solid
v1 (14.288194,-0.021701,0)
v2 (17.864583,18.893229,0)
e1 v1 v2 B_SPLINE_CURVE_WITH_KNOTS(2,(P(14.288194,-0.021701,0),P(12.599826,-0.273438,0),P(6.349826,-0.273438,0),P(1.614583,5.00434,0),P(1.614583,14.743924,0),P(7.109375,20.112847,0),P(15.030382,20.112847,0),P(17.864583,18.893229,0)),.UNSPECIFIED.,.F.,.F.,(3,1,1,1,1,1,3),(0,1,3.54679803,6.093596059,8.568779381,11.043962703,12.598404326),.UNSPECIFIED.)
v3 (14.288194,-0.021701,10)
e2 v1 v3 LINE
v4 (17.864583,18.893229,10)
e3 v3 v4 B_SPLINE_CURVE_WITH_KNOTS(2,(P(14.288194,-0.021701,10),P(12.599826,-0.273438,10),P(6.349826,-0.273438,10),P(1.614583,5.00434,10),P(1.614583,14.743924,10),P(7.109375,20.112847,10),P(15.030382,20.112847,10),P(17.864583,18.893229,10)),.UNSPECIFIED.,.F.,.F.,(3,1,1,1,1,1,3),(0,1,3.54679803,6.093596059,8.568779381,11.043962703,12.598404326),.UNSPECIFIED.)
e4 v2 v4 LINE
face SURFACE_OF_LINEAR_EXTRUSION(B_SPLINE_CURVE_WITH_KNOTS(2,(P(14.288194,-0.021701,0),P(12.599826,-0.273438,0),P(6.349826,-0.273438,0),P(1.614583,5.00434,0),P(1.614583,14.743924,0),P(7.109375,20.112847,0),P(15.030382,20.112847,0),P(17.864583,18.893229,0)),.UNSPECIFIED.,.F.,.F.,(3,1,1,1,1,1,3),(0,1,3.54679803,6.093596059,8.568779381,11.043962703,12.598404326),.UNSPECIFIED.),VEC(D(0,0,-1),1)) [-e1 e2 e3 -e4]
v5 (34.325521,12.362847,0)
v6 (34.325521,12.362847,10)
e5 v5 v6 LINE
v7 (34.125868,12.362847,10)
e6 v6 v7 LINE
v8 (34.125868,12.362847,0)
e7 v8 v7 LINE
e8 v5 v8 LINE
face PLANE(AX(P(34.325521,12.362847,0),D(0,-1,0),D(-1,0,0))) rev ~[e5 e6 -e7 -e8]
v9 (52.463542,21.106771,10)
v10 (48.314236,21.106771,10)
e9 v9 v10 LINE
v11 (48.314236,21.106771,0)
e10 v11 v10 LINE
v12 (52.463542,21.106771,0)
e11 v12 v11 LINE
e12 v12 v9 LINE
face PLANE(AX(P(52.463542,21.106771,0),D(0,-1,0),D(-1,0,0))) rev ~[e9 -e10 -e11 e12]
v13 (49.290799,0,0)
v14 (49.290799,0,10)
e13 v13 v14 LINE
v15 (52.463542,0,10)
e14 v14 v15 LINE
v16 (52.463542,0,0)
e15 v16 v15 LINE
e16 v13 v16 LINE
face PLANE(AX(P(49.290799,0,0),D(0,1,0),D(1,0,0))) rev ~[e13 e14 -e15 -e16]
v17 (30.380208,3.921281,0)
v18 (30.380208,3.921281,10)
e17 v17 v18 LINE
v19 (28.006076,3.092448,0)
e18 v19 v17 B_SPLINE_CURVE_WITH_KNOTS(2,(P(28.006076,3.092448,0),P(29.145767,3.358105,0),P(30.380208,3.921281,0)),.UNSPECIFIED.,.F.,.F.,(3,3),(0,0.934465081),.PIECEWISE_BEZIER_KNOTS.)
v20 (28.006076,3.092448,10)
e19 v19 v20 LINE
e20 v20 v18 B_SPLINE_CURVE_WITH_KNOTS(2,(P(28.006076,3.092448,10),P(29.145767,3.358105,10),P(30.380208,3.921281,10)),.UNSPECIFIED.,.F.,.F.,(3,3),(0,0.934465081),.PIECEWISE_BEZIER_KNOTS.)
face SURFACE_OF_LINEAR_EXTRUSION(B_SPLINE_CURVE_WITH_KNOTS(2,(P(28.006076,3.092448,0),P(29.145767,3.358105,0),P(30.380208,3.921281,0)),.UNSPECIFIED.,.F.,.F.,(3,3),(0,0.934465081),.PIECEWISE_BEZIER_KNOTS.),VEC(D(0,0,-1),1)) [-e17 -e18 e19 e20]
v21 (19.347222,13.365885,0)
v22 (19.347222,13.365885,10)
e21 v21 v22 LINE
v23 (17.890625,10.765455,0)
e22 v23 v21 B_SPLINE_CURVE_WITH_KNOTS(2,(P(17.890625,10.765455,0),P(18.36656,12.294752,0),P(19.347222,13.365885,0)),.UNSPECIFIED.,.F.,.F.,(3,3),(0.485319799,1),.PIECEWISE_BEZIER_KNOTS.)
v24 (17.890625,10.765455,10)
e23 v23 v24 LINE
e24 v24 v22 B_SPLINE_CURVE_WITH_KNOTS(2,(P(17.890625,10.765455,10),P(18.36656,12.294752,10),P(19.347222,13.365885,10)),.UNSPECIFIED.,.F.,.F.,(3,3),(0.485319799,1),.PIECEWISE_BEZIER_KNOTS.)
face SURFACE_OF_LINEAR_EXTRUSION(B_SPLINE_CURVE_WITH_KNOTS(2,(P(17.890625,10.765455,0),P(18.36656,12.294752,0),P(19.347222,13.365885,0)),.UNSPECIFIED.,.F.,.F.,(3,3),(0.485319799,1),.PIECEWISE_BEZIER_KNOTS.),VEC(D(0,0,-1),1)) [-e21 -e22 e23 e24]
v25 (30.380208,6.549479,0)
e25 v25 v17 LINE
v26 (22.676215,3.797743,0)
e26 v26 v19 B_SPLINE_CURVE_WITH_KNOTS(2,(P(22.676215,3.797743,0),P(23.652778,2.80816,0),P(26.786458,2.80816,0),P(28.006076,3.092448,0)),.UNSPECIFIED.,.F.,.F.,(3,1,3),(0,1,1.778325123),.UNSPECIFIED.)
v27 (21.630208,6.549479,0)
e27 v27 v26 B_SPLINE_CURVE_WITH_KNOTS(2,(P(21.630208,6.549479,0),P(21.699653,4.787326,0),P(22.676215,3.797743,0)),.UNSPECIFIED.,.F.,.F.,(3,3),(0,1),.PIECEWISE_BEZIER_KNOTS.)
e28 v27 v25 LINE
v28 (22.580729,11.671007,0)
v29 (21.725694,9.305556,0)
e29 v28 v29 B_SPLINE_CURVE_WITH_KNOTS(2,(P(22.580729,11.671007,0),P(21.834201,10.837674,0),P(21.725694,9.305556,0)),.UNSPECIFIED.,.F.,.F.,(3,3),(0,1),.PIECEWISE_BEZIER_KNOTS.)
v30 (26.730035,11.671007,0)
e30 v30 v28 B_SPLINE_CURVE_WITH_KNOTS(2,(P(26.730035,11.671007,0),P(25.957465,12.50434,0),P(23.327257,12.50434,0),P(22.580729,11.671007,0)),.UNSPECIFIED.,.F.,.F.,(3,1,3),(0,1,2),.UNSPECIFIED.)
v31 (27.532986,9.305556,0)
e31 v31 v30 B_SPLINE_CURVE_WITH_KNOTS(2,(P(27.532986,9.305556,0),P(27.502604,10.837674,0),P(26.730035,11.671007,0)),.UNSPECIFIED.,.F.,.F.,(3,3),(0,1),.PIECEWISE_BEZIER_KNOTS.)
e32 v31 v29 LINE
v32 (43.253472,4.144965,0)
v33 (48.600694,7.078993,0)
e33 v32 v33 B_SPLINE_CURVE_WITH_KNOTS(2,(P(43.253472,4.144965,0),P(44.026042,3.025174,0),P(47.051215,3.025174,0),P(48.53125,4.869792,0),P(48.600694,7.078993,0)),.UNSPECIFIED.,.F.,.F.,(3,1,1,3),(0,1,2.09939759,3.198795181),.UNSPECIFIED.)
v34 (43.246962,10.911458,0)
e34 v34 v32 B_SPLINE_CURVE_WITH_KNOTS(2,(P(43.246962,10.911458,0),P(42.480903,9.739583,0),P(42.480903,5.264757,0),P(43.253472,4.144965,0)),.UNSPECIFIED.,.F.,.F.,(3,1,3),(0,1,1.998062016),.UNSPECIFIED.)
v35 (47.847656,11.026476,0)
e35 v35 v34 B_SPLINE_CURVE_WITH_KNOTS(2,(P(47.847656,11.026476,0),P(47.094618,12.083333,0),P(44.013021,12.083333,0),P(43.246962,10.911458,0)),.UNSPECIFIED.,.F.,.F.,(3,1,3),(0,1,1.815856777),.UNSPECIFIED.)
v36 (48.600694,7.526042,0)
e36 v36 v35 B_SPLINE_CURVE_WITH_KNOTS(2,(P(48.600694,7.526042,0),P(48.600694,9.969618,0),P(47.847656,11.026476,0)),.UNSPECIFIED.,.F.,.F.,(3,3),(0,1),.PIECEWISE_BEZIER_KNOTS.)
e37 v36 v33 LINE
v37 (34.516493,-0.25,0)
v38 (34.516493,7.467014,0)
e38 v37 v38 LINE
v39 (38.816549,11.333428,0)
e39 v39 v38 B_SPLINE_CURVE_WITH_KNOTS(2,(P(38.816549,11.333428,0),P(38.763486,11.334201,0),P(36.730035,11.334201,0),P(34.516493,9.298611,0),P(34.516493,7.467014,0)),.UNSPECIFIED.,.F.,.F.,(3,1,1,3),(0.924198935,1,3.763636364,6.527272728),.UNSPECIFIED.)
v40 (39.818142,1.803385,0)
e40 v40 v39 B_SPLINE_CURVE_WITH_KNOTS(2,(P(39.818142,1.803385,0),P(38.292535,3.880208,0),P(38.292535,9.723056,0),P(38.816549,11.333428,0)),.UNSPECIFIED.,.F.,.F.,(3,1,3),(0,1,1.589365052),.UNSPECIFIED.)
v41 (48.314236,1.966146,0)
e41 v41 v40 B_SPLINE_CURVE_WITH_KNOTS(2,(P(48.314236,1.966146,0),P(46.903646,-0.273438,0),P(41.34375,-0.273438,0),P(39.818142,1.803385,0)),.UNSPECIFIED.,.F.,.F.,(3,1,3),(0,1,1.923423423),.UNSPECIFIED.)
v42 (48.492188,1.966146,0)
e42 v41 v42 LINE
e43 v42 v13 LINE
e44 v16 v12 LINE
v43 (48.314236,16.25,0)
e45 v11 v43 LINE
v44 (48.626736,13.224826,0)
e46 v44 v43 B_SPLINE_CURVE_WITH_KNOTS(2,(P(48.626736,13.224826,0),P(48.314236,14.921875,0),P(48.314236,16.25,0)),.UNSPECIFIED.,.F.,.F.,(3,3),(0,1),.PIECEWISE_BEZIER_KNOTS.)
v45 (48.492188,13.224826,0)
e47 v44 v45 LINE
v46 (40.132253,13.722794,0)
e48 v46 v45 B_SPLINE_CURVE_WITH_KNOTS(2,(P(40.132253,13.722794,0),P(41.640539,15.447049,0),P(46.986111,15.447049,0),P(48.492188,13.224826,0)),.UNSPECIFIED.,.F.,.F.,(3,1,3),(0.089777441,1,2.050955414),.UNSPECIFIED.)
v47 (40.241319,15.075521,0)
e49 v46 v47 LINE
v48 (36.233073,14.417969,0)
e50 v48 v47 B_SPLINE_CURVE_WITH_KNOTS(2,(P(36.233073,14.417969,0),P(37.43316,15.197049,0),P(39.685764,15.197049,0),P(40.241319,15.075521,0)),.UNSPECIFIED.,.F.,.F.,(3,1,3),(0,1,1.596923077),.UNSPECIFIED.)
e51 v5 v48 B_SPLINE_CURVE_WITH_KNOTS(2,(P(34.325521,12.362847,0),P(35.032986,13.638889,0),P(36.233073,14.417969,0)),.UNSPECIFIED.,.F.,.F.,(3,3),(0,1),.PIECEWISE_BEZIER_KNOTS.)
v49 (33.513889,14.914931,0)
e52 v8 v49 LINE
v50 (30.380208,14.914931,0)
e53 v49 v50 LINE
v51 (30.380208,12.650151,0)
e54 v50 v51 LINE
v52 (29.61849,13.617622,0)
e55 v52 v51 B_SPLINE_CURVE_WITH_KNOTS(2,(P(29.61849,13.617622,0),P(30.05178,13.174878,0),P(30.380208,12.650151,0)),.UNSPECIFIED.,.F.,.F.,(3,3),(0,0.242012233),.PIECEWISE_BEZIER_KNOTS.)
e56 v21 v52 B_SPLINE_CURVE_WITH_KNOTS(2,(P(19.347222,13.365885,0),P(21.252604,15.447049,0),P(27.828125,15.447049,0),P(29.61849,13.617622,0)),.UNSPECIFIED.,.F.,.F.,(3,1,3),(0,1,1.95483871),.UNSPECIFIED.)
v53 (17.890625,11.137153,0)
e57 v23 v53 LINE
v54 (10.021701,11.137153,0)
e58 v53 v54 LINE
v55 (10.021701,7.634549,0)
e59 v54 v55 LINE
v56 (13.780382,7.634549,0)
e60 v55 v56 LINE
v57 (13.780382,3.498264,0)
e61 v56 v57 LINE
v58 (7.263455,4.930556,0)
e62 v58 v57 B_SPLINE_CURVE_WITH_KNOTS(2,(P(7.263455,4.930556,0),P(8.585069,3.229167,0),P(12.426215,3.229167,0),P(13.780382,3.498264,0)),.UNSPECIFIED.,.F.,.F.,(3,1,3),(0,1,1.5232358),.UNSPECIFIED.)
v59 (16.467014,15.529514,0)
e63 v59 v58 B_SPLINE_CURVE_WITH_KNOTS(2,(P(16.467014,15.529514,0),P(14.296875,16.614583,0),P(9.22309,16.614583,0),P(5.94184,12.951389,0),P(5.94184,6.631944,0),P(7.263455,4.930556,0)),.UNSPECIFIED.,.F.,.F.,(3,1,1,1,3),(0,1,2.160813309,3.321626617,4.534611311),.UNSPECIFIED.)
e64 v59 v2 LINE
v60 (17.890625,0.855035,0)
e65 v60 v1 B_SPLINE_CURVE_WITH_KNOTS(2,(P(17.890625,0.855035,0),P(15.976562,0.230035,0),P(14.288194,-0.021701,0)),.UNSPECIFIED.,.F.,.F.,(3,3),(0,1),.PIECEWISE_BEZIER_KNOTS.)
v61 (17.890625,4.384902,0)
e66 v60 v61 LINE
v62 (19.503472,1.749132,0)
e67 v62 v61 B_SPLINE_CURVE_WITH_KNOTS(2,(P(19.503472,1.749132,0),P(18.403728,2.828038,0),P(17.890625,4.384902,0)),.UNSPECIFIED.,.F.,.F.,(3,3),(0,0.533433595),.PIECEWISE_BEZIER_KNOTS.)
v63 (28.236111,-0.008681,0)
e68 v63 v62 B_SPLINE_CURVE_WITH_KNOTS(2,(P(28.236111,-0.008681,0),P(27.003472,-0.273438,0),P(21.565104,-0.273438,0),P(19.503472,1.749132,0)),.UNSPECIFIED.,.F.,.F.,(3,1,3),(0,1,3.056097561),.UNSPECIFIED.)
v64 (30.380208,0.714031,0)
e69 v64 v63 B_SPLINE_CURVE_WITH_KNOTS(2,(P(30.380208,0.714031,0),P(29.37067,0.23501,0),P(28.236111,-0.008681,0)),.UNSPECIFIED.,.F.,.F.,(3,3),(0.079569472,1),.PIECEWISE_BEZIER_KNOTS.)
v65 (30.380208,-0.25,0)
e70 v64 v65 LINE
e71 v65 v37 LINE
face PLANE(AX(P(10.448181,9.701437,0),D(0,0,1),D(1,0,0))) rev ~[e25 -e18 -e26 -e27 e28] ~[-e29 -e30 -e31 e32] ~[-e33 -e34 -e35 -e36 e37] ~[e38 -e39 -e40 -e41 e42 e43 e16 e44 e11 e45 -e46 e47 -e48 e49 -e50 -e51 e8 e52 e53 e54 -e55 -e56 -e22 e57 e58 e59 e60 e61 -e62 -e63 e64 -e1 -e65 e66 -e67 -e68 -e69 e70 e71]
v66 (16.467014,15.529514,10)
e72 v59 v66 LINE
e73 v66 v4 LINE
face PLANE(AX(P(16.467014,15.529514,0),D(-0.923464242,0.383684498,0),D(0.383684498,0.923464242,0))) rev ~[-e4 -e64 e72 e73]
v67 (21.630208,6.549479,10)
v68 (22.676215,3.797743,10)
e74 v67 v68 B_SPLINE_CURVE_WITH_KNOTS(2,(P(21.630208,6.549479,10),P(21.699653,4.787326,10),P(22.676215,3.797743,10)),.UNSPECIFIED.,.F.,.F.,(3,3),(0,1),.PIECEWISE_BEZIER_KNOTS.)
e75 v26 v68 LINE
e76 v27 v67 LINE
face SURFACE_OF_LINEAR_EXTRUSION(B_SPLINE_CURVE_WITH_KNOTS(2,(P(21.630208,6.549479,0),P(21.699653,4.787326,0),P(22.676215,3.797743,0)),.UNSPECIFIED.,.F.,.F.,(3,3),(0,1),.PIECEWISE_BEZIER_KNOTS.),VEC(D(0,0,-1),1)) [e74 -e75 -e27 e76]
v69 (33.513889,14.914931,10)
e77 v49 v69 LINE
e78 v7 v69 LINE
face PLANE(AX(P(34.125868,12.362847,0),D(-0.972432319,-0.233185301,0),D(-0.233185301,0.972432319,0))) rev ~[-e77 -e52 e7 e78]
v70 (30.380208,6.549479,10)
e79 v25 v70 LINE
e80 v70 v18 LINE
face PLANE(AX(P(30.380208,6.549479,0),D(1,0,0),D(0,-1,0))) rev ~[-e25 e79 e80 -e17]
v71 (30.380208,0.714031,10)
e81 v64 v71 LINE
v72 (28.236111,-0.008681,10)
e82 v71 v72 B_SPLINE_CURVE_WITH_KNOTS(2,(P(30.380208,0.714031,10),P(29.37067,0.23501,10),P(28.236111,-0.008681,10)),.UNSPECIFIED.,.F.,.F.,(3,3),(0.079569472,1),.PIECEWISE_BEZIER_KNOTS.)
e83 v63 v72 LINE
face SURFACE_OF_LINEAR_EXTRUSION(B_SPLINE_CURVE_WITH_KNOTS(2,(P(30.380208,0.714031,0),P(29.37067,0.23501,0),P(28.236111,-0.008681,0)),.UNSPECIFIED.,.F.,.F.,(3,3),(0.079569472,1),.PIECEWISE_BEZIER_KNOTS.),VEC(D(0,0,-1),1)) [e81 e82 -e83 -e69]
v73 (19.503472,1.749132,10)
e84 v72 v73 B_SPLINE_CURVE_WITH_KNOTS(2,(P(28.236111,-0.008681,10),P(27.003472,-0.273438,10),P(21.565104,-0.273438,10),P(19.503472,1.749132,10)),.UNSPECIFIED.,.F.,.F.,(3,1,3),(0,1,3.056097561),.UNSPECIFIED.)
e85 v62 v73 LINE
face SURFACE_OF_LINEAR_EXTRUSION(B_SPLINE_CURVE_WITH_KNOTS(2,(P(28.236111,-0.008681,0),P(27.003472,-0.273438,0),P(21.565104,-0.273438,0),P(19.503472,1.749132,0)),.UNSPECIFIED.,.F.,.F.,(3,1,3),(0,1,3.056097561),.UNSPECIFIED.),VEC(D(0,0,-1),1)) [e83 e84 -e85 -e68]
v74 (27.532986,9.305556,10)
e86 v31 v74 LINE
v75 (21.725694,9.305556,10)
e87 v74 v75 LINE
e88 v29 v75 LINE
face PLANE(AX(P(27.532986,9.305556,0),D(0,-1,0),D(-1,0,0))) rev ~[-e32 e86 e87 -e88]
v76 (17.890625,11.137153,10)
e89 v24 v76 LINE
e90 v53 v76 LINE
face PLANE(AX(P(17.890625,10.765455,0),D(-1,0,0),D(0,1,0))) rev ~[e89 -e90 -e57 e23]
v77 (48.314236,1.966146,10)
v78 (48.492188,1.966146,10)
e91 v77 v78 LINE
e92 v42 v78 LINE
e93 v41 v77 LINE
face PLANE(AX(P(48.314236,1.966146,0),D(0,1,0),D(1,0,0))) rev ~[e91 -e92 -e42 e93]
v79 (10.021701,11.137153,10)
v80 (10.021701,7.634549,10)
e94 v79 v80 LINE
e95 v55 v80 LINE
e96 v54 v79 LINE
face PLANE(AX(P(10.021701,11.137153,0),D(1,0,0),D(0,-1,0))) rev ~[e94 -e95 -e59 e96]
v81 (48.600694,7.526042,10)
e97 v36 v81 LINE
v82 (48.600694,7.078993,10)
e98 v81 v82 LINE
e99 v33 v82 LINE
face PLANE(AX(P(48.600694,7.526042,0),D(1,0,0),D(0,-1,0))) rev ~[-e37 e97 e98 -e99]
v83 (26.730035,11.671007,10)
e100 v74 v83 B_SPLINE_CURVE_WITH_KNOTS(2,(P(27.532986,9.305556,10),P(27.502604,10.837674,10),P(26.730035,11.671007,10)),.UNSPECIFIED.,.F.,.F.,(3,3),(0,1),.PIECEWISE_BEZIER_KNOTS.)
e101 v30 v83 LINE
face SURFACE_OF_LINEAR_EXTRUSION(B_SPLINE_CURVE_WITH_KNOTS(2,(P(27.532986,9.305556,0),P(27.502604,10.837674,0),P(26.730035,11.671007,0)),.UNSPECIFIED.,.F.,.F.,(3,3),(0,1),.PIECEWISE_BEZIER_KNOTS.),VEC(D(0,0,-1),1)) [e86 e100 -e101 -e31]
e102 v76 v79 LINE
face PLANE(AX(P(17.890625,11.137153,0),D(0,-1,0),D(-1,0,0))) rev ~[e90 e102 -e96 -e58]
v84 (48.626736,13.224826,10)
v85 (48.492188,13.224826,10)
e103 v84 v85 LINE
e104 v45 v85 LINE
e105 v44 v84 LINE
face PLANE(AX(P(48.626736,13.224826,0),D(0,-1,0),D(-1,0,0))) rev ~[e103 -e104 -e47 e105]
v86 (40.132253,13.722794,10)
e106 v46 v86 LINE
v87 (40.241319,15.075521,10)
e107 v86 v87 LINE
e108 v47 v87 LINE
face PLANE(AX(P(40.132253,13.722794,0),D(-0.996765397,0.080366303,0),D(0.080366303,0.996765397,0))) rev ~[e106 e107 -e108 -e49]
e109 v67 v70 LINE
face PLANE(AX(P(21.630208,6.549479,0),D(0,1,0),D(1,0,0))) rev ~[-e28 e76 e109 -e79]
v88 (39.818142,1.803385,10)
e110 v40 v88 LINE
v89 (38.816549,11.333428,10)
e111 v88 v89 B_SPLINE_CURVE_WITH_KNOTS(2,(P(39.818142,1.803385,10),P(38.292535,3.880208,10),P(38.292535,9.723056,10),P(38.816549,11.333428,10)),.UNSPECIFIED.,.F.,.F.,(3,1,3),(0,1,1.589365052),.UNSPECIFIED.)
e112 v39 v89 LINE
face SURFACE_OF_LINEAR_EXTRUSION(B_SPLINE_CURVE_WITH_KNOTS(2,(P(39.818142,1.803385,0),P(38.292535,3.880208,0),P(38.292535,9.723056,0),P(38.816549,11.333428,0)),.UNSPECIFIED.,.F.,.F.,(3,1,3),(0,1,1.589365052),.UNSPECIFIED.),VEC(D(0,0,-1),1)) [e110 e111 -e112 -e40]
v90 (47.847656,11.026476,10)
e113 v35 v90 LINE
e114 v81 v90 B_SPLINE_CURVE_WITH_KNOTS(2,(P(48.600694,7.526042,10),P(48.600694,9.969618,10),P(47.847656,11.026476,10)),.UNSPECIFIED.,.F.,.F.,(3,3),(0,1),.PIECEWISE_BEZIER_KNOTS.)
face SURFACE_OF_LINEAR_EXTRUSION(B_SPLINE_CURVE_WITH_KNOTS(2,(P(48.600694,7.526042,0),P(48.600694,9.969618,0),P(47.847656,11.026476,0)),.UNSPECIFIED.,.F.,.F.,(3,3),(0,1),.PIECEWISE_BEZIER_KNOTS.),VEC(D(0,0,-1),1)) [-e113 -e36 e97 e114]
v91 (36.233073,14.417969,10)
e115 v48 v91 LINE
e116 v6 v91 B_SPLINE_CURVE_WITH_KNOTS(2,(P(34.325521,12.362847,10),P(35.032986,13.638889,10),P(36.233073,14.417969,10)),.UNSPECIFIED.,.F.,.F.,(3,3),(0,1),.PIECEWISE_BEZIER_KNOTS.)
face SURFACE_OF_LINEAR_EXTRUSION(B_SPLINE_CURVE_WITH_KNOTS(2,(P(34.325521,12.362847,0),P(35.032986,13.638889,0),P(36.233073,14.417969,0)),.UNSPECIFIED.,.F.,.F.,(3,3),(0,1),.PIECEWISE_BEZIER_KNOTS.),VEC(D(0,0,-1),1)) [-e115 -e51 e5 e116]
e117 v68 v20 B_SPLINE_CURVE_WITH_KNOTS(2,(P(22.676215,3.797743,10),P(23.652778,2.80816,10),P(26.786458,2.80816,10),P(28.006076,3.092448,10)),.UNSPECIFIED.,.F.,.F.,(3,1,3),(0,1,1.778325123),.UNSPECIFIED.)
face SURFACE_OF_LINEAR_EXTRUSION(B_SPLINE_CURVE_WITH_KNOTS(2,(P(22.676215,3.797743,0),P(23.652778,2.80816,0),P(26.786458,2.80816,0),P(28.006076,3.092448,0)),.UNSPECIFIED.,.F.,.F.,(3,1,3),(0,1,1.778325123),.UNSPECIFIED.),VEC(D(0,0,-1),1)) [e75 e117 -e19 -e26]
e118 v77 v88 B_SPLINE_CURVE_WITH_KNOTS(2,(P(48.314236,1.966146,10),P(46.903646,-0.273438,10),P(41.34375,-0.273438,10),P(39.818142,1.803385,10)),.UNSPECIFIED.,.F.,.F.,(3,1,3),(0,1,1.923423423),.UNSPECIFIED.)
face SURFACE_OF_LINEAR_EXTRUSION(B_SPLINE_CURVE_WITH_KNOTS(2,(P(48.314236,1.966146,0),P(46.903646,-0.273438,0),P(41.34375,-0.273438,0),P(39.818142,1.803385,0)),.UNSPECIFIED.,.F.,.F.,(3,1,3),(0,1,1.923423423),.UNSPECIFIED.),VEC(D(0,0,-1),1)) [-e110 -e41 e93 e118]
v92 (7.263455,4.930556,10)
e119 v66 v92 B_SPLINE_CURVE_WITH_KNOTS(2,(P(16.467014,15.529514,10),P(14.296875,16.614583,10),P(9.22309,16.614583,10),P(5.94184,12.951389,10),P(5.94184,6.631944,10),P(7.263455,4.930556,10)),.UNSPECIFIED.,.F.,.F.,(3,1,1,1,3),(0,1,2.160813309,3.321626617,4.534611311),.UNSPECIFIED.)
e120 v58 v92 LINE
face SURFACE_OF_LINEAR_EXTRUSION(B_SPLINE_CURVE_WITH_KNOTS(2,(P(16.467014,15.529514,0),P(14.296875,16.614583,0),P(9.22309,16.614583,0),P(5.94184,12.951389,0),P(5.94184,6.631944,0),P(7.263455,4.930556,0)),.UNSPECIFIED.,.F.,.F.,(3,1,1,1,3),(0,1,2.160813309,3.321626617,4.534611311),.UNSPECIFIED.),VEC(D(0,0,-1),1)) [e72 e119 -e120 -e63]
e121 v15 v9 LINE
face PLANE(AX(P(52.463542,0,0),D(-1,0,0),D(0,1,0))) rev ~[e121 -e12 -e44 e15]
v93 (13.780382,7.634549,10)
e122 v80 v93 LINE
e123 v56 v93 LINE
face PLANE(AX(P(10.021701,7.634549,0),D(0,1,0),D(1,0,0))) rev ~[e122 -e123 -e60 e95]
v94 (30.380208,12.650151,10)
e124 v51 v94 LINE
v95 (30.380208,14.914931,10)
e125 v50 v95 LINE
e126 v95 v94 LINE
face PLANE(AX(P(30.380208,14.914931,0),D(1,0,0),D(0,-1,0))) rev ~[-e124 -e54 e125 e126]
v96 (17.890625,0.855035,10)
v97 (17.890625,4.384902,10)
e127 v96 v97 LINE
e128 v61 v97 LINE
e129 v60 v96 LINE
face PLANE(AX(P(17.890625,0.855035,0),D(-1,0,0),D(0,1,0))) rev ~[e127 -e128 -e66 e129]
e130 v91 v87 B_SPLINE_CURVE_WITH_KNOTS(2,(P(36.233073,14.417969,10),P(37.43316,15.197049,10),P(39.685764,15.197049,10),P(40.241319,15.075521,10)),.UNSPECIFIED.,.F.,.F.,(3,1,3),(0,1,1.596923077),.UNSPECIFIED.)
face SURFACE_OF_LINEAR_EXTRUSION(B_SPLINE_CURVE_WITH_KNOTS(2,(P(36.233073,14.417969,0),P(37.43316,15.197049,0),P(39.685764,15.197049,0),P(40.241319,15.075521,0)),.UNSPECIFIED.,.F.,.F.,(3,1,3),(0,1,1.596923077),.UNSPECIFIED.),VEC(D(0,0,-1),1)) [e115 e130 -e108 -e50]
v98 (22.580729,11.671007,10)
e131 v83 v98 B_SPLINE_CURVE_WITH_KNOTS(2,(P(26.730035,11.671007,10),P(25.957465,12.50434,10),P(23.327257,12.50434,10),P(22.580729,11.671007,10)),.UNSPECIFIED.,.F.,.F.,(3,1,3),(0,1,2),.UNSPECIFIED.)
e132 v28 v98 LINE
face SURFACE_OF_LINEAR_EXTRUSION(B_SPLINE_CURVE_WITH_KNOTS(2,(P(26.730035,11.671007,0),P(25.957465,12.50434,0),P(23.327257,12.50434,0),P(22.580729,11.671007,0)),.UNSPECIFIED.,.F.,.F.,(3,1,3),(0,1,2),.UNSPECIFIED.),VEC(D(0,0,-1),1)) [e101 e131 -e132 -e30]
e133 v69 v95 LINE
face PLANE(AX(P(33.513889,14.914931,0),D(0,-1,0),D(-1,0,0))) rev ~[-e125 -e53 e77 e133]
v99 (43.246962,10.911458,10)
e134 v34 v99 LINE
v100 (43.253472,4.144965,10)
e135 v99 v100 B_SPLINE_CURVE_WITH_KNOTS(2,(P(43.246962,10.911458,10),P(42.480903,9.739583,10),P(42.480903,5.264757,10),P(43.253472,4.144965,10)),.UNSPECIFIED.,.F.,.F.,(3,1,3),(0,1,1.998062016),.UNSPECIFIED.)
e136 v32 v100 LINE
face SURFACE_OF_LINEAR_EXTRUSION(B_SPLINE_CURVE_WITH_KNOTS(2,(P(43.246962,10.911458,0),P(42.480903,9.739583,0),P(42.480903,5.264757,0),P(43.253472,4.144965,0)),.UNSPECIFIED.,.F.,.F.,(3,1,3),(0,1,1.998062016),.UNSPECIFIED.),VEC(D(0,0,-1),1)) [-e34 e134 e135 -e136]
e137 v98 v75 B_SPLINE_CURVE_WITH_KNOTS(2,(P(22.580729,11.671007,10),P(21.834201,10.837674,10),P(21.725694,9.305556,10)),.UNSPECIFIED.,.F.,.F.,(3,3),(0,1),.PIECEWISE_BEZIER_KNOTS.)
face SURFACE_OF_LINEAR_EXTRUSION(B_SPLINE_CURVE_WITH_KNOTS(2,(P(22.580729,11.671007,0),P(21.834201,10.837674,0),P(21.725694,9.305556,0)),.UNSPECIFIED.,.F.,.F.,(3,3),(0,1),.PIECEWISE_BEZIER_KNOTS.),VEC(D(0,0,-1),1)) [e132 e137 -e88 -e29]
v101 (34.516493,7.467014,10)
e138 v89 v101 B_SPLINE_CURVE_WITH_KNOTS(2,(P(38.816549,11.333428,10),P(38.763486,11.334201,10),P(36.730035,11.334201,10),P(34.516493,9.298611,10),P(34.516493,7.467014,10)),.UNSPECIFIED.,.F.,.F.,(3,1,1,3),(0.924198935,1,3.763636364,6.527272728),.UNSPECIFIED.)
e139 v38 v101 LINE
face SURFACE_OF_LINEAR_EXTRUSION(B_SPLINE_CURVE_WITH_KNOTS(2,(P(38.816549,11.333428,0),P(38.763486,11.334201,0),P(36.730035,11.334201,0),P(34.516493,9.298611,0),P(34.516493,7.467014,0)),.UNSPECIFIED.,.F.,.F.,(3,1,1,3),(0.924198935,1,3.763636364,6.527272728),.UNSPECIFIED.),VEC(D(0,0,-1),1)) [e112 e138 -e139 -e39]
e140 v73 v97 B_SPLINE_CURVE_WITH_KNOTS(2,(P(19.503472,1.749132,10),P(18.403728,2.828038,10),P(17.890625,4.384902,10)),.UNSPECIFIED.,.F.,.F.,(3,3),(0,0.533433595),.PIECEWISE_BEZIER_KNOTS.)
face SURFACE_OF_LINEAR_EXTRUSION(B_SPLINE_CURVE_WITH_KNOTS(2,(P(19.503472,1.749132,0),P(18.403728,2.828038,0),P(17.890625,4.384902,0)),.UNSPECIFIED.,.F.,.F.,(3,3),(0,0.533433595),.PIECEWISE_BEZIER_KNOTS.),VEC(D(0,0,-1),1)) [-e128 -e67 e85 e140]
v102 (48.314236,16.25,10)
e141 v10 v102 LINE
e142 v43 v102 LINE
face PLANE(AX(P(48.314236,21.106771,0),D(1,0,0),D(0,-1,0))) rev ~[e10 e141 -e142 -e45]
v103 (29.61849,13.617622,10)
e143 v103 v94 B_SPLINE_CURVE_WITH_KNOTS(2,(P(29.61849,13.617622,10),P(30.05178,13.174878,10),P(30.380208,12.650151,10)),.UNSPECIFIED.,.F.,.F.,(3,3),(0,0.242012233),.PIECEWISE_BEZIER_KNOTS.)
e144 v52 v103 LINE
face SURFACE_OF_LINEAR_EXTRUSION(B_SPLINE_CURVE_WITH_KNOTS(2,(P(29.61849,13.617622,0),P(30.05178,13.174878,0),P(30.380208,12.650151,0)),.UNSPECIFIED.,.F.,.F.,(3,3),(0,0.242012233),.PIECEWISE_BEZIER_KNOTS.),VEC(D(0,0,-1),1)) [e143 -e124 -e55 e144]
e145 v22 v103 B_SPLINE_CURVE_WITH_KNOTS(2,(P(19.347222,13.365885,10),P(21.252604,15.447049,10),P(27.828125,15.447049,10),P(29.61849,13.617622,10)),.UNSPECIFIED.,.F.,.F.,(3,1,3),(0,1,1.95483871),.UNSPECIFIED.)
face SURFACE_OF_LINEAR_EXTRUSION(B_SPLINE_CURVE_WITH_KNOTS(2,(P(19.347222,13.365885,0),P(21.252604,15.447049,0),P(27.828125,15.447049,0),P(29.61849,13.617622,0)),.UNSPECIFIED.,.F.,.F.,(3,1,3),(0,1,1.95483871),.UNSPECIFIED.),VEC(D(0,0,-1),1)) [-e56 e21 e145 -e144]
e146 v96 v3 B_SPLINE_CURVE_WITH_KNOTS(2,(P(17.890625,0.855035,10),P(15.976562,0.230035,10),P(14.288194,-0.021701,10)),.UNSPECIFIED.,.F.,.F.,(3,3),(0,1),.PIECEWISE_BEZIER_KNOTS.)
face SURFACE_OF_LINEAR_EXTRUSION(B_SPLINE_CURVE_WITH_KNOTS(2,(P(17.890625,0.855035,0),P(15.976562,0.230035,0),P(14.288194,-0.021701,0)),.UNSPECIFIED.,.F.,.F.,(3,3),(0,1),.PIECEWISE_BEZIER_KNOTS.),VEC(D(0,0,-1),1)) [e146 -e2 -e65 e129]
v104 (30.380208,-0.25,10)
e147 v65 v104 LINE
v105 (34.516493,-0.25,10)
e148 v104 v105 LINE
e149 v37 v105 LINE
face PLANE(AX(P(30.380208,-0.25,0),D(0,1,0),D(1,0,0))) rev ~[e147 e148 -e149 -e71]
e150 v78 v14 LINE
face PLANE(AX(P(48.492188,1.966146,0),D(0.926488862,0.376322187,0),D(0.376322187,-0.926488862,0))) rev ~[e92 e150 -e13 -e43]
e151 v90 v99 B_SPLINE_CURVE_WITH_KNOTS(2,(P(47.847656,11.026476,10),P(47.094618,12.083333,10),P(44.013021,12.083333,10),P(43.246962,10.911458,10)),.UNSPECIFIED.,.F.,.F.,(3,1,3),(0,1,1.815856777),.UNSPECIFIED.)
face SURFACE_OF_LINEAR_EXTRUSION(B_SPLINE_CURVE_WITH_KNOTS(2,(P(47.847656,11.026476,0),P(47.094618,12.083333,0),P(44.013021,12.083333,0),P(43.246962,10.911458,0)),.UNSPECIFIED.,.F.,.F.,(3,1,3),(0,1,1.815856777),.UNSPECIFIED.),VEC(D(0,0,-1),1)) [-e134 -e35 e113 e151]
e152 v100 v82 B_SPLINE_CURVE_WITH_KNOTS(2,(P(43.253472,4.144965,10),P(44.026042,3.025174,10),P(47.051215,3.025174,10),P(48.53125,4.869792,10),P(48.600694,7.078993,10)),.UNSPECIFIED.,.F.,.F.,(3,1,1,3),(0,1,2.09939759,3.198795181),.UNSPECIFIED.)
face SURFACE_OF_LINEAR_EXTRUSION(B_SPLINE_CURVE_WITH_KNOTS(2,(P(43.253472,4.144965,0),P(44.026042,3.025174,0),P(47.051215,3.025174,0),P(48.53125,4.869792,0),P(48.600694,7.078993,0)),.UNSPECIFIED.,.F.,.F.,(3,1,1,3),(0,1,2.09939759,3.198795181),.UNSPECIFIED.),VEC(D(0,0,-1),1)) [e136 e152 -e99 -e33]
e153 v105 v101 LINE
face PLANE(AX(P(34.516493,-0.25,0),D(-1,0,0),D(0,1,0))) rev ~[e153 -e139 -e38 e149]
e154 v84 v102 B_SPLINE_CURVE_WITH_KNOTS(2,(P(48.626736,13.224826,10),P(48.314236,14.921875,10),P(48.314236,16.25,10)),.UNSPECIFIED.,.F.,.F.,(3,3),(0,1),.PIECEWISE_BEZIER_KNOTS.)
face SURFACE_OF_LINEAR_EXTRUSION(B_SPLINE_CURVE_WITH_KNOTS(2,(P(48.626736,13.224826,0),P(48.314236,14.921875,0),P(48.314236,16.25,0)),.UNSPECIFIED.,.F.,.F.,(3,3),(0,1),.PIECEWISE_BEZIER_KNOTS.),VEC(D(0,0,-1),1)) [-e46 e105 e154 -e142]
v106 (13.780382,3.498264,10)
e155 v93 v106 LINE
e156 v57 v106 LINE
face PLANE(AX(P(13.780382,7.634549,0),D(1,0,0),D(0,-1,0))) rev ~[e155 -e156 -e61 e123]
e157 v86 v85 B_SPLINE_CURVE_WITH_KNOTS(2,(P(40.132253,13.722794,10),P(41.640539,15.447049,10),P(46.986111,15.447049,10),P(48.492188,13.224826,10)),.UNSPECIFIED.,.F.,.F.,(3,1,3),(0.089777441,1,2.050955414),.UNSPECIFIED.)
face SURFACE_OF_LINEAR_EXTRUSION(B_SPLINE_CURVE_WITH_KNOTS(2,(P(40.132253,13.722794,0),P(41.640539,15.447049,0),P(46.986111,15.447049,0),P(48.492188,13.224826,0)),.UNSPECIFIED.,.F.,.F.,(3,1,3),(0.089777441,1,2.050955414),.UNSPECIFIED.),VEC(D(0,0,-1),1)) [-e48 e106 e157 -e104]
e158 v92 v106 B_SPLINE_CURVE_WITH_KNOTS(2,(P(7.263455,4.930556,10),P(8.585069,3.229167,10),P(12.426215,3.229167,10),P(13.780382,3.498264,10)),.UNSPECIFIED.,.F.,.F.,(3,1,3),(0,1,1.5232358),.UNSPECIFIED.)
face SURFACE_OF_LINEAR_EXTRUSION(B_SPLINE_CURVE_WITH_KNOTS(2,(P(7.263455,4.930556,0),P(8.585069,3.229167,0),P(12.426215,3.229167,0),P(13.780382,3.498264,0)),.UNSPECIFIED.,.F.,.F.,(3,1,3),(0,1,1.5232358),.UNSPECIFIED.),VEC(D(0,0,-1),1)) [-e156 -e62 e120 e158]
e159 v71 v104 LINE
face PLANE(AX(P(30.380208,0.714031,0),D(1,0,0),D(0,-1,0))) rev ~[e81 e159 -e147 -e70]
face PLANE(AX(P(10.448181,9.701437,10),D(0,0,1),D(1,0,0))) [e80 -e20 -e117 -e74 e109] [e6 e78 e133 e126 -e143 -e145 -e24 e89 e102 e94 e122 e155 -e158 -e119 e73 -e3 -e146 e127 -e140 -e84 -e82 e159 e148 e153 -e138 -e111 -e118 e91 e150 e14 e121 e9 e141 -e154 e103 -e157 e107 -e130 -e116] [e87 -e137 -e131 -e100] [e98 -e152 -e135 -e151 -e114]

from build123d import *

# Parameters (mm, degrees)
F1_DEPTH = 10


with BuildPart() as f1:
    # F0 (on Top) → F1 (new body)
    with BuildSketch(Plane.XY):
        with BuildLine():
            Line((17.890625, 11.1371527778), (10.0217013889, 11.1371527778))
            Line((10.0217013889, 11.1371527778), (10.0217013889, 7.6345486111))
            Line((10.0217013889, 7.6345486111), (13.7803819444, 7.6345486111))
            Line((13.7803819444, 7.6345486111), (13.7803819444, 3.4982638889))
            add(Edge.make_bspline(
                [(11.1067708333, 3.2291666667), (12.4262152778, 3.2291666667), (13.7803819444, 3.4982638889)],
                knots=[0, 0, 0, 1, 1, 1], degree=2))
            add(Edge.make_bspline(
                [(7.2634548611, 4.9305555556), (8.5850694444, 3.2291666667), (11.1067708333, 3.2291666667)],
                knots=[0, 0, 0, 1, 1, 1], degree=2))
            add(Edge.make_bspline(
                [(5.9418402778, 9.8611111111), (5.9418402778, 6.6319444444), (7.2634548611, 4.9305555556)],
                knots=[0, 0, 0, 1, 1, 1], degree=2))
            add(Edge.make_bspline(
                [(7.5824652778, 14.7829861111), (5.9418402778, 12.9513888889), (5.9418402778, 9.8611111111)],
                knots=[0, 0, 0, 1, 1, 1], degree=2))
            add(Edge.make_bspline(
                [(11.9487847222, 16.6145833333), (9.2230902778, 16.6145833333), (7.5824652778, 14.7829861111)],
                knots=[0, 0, 0, 1, 1, 1], degree=2))
            add(Edge.make_bspline(
                [(16.4670138889, 15.5295138889), (14.296875, 16.6145833333), (11.9487847222, 16.6145833333)],
                knots=[0, 0, 0, 1, 1, 1], degree=2))
            Line((16.4670138889, 15.5295138889), (17.8645833333, 18.8932291667))
            add(Edge.make_bspline(
                [(11.9748263889, 20.1128472222), (15.0303819444, 20.1128472222), (17.8645833333, 18.8932291667)],
                knots=[0, 0, 0, 1, 1, 1], degree=2))
            add(Edge.make_bspline(
                [(4.3619791667, 17.4283854167), (7.109375, 20.1128472222), (11.9748263889, 20.1128472222)],
                knots=[0, 0, 0, 1, 1, 1], degree=2))
            add(Edge.make_bspline(
                [(1.6145833333, 9.9435763889), (1.6145833333, 14.7439236111), (4.3619791667, 17.4283854167)],
                knots=[0, 0, 0, 1, 1, 1], degree=2))
            add(Edge.make_bspline(
                [(3.9822048611, 2.3654513889), (1.6145833333, 5.0043402778), (1.6145833333, 9.9435763889)],
                knots=[0, 0, 0, 1, 1, 1], degree=2))
            add(Edge.make_bspline(
                [(10.8376736111, -0.2734375), (6.3498263889, -0.2734375), (3.9822048611, 2.3654513889)],
                knots=[0, 0, 0, 1, 1, 1], degree=2))
            add(Edge.make_bspline(
                [(14.2881944444, -0.0217013889), (12.5998263889, -0.2734375), (10.8376736111, -0.2734375)],
                knots=[0, 0, 0, 1, 1, 1], degree=2))
            add(Edge.make_bspline(
                [(17.890625, 0.8550347222), (15.9765625, 0.2300347222), (14.2881944444, -0.0217013889)],
                knots=[0, 0, 0, 1, 1, 1], degree=2))
            Line((17.890625, 0.8550347222), (17.890625, 4.3849023528))
            add(Edge.make_bspline(
                [(17.890625, 4.3849023528), (17.4418402778, 5.7466096194), (17.4418402778, 7.4739583333)],
                knots=[0.5334335947, 0.5334335947, 0.5334335947, 1, 1, 1], degree=2))
            add(Edge.make_bspline(
                [(17.4418402778, 7.4739583333), (17.4418402778, 9.3233974988), (17.890625, 10.7654546328)],
                knots=[0, 0, 0, 0.4853197992, 0.4853197992, 0.4853197992], degree=2))
            Line((17.890625, 10.7654546328), (17.890625, 11.1371527778))
        make_face()
        with BuildLine():
            add(Edge.make_bspline(
                [(17.890625, 10.7654546328), (18.3665598605, 12.2947519259), (19.3472222222, 13.3658854167)],
                knots=[0.4853197992, 0.4853197992, 0.4853197992, 1, 1, 1], degree=2))
            Line((17.890625, 10.7654546328), (17.890625, 4.3849023528))
            add(Edge.make_bspline(
                [(19.5034722222, 1.7491319444), (18.4037284831, 2.8280384338), (17.890625, 4.3849023528)],
                knots=[0, 0, 0, 0.5334335947, 0.5334335947, 0.5334335947], degree=2))
            add(Edge.make_bspline(
                [(25.2239583333, -0.2734375), (21.5651041667, -0.2734375), (19.5034722222, 1.7491319444)],
                knots=[0, 0, 0, 1, 1, 1], degree=2))
            add(Edge.make_bspline(
                [(28.2361111111, -0.0086805556), (27.0034722222, -0.2734375), (25.2239583333, -0.2734375)],
                knots=[0, 0, 0, 1, 1, 1], degree=2))
            add(Edge.make_bspline(
                [(30.3802083333, 0.7140314035), (29.370669575, 0.2350098187), (28.2361111111, -0.0086805556)],
                knots=[0.0795694715, 0.0795694715, 0.0795694715, 1, 1, 1], degree=2))
            Line((30.3802083333, 0.7140314035), (30.3802083333, 3.9212807597))
            add(Edge.make_bspline(
                [(28.0060763889, 3.0924479167), (29.1457668735, 3.3581053072), (30.3802083333, 3.9212807597)],
                knots=[0, 0, 0, 0.9344650807, 0.9344650807, 0.9344650807], degree=2))
            add(Edge.make_bspline(
                [(25.4149305556, 2.8081597222), (26.7864583333, 2.8081597222), (28.0060763889, 3.0924479167)],
                knots=[0, 0, 0, 1, 1, 1], degree=2))
            add(Edge.make_bspline(
                [(22.6762152778, 3.7977430556), (23.6527777778, 2.8081597222), (25.4149305556, 2.8081597222)],
                knots=[0, 0, 0, 1, 1, 1], degree=2))
            add(Edge.make_bspline(
                [(21.6302083333, 6.5494791667), (21.6996527778, 4.7873263889), (22.6762152778, 3.7977430556)],
                knots=[0, 0, 0, 1, 1, 1], degree=2))
            Line((21.6302083333, 6.5494791667), (30.3802083333, 6.5494791667))
            Line((30.3802083333, 6.5494791667), (30.3802083333, 12.6501514229))
            add(Edge.make_bspline(
                [(29.6184895833, 13.6176215278), (30.0517797145, 13.1748777938), (30.3802083333, 12.6501514229)],
                knots=[0, 0, 0, 0.2420122332, 0.2420122332, 0.2420122332], degree=2))
            add(Edge.make_bspline(
                [(24.6163194444, 15.4470486111), (27.828125, 15.4470486111), (29.6184895833, 13.6176215278)],
                knots=[0, 0, 0, 1, 1, 1], degree=2))
            add(Edge.make_bspline(
                [(19.3472222222, 13.3658854167), (21.2526041667, 15.4470486111), (24.6163194444, 15.4470486111)],
                knots=[0, 0, 0, 1, 1, 1], degree=2))
        make_face()
        with BuildLine():
            add(Edge.make_bspline(
                [(24.6423611111, 12.5043402778), (23.3272569444, 12.5043402778), (22.5807291667, 11.6710069444)],
                knots=[0, 0, 0, 1, 1, 1], degree=2))
            add(Edge.make_bspline(
                [(26.7300347222, 11.6710069444), (25.9574652778, 12.5043402778), (24.6423611111, 12.5043402778)],
                knots=[0, 0, 0, 1, 1, 1], degree=2))
            add(Edge.make_bspline(
                [(27.5329861111, 9.3055555556), (27.5026041667, 10.8376736111), (26.7300347222, 11.6710069444)],
                knots=[0, 0, 0, 1, 1, 1], degree=2))
            Line((27.5329861111, 9.3055555556), (21.7256944444, 9.3055555556))
            add(Edge.make_bspline(
                [(22.5807291667, 11.6710069444), (21.8342013889, 10.8376736111), (21.7256944444, 9.3055555556)],
                knots=[0, 0, 0, 1, 1, 1], degree=2))
        make_face(mode=Mode.SUBTRACT)
        with BuildLine():
            Line((17.890625, 4.3849023528), (17.890625, 10.7654546328))
            add(Edge.make_bspline(
                [(17.4418402778, 7.4739583333), (17.4418402778, 9.3233974988), (17.890625, 10.7654546328)],
                knots=[0, 0, 0, 0.4853197992, 0.4853197992, 0.4853197992], degree=2))
            add(Edge.make_bspline(
                [(17.890625, 4.3849023528), (17.4418402778, 5.7466096194), (17.4418402778, 7.4739583333)],
                knots=[0.5334335947, 0.5334335947, 0.5334335947, 1, 1, 1], degree=2))
        make_face()
        with BuildLine():
            Line((30.3802083333, 14.9149305556), (30.3802083333, 12.6501514229))
            add(Edge.make_bspline(
                [(30.3802083333, 12.6501514229), (31.4088541667, 11.0066966079), (31.4088541667, 8.5590277778)],
                knots=[0.2420122332, 0.2420122332, 0.2420122332, 1, 1, 1], degree=2))
            Line((31.4088541667, 8.5590277778), (31.4088541667, 6.5494791667))
            Line((31.4088541667, 6.5494791667), (30.3802083333, 6.5494791667))
            Line((30.3802083333, 6.5494791667), (30.3802083333, 3.9212807597))
            add(Edge.make_bspline(
                [(30.3802083333, 3.9212807597), (30.4667808797, 3.9607767865), (30.5538194444, 4.0017361111)],
                knots=[0.9344650807, 0.9344650807, 0.9344650807, 1, 1, 1], degree=2))
            Line((30.5538194444, 4.0017361111), (30.5538194444, 0.7986111111))
            add(Edge.make_bspline(
                [(30.5538194444, 0.7986111111), (30.4674810422, 0.75544191), (30.3802083333, 0.7140314035)],
                knots=[0, 0, 0, 0.0795694715, 0.0795694715, 0.0795694715], degree=2))
            Line((30.3802083333, 0.7140314035), (30.3802083333, -0.25))
            Line((30.3802083333, -0.25), (34.5164930556, -0.25))
            Line((34.5164930556, -0.25), (34.5164930556, 7.4670138889))
            add(Edge.make_bspline(
                [(35.6232638889, 10.31640625), (34.5164930556, 9.2986111111), (34.5164930556, 7.4670138889)],
                knots=[0, 0, 0, 1, 1, 1], degree=2))
            add(Edge.make_bspline(
                [(38.7092013889, 11.3342013889), (36.7300347222, 11.3342013889), (35.6232638889, 10.31640625)],
                knots=[0, 0, 0, 1, 1, 1], degree=2))
            add(Edge.make_bspline(
                [(38.8165486425, 11.3334282993), (38.7634860059, 11.3342013889), (38.7092013889, 11.3342013889)],
                knots=[0.9241989348, 0.9241989348, 0.9241989348, 1, 1, 1], degree=2))
            add(Edge.make_bspline(
                [(38.8165486425, 11.3334282993), (39.1942474456, 12.4941522946), (39.8441840278, 13.3658854167)],
                knots=[0.5811317803, 0.5811317803, 0.5811317803, 1, 1, 1], degree=2))
            add(Edge.make_bspline(
                [(39.8441840278, 13.3658854167), (39.9834871312, 13.5527269218), (40.1322530254, 13.7227942749)],
                knots=[0, 0, 0, 0.0897774407, 0.0897774407, 0.0897774407], degree=2))
            Line((40.1322530254, 13.7227942749), (40.2413194444, 15.0755208333))
            add(Edge.make_bspline(
                [(38.84375, 15.1970486111), (39.6857638889, 15.1970486111), (40.2413194444, 15.0755208333)],
                knots=[0, 0, 0, 1, 1, 1], degree=2))
            add(Edge.make_bspline(
                [(36.2330729167, 14.41796875), (37.4331597222, 15.1970486111), (38.84375, 15.1970486111)],
                knots=[0, 0, 0, 1, 1, 1], degree=2))
            add(Edge.make_bspline(
                [(34.3255208333, 12.3628472222), (35.0329861111, 13.6388888889), (36.2330729167, 14.41796875)],
                knots=[0, 0, 0, 1, 1, 1], degree=2))
            Line((34.3255208333, 12.3628472222), (34.1258680556, 12.3628472222))
            Line((34.1258680556, 12.3628472222), (33.5138888889, 14.9149305556))
            Line((33.5138888889, 14.9149305556), (30.3802083333, 14.9149305556))
        make_face()
        with BuildLine():
            add(Edge.make_bspline(
                [(30.3802083333, 12.6501514229), (31.4088541667, 11.0066966079), (31.4088541667, 8.5590277778)],
                knots=[0.2420122332, 0.2420122332, 0.2420122332, 1, 1, 1], degree=2))
            Line((30.3802083333, 12.6501514229), (30.3802083333, 6.5494791667))
            Line((30.3802083333, 6.5494791667), (31.4088541667, 6.5494791667))
            Line((31.4088541667, 6.5494791667), (31.4088541667, 8.5590277778))
        make_face()
        with BuildLine():
            Line((30.3802083333, 3.9212807597), (30.3802083333, 0.7140314035))
            add(Edge.make_bspline(
                [(30.5538194444, 0.7986111111), (30.4674810422, 0.75544191), (30.3802083333, 0.7140314035)],
                knots=[0, 0, 0, 0.0795694715, 0.0795694715, 0.0795694715], degree=2))
            Line((30.5538194444, 0.7986111111), (30.5538194444, 4.0017361111))
            add(Edge.make_bspline(
                [(30.3802083333, 3.9212807597), (30.4667808797, 3.9607767865), (30.5538194444, 4.0017361111)],
                knots=[0.9344650807, 0.9344650807, 0.9344650807, 1, 1, 1], degree=2))
        make_face()
        with BuildLine():
            add(Edge.make_bspline(
                [(38.8165486425, 11.3334282993), (39.1942474456, 12.4941522946), (39.8441840278, 13.3658854167)],
                knots=[0.5811317803, 0.5811317803, 0.5811317803, 1, 1, 1], degree=2))
            add(Edge.make_bspline(
                [(39.9288194444, 11.1996527778), (39.4635109529, 11.3240024608), (38.8165486425, 11.3334282993)],
                knots=[0, 0, 0, 0.9241989348, 0.9241989348, 0.9241989348], degree=2))
            Line((39.9288194444, 11.1996527778), (40.1322530254, 13.7227942749))
            add(Edge.make_bspline(
                [(39.8441840278, 13.3658854167), (39.9834871312, 13.5527269218), (40.1322530254, 13.7227942749)],
                knots=[0, 0, 0, 0.0897774407, 0.0897774407, 0.0897774407], degree=2))
        make_face()
        with BuildLine():
            add(Edge.make_bspline(
                [(39.9288194444, 11.1996527778), (39.4635109529, 11.3240024608), (38.8165486425, 11.3334282993)],
                knots=[0, 0, 0, 0.9241989348, 0.9241989348, 0.9241989348], degree=2))
            add(Edge.make_bspline(
                [(38.2925347222, 7.5564236111), (38.2925347222, 9.7230564206), (38.8165486425, 11.3334282993)],
                knots=[0, 0, 0, 0.5811317803, 0.5811317803, 0.5811317803], degree=2))
            add(Edge.make_bspline(
                [(39.8181423611, 1.8033854167), (38.2925347222, 3.8802083333), (38.2925347222, 7.5564236111)],
                knots=[0, 0, 0, 1, 1, 1], degree=2))
            add(Edge.make_bspline(
                [(44.0130208333, -0.2734375), (41.34375, -0.2734375), (39.8181423611, 1.8033854167)],
                knots=[0, 0, 0, 1, 1, 1], degree=2))
            add(Edge.make_bspline(
                [(48.3142361111, 1.9661458333), (46.9036458333, -0.2734375), (44.0130208333, -0.2734375)],
                knots=[0, 0, 0, 1, 1, 1], degree=2))
            Line((48.3142361111, 1.9661458333), (48.4921875, 1.9661458333))
            Line((48.4921875, 1.9661458333), (49.2907986111, 0))
            Line((49.2907986111, 0), (52.4635416667, 0))
            Line((52.4635416667, 0), (52.4635416667, 21.1067708333))
            Line((52.4635416667, 21.1067708333), (48.3142361111, 21.1067708333))
            Line((48.3142361111, 21.1067708333), (48.3142361111, 16.25))
            add(Edge.make_bspline(
                [(48.6267361111, 13.2248263889), (48.3142361111, 14.921875), (48.3142361111, 16.25)],
                knots=[0, 0, 0, 1, 1, 1], degree=2))
            Line((48.6267361111, 13.2248263889), (48.4921875, 13.2248263889))
            add(Edge.make_bspline(
                [(44.1215277778, 15.4470486111), (46.9861111111, 15.4470486111), (48.4921875, 13.2248263889)],
                knots=[0, 0, 0, 1, 1, 1], degree=2))
            add(Edge.make_bspline(
                [(40.1322530254, 13.7227942749), (41.6405392046, 15.4470486111), (44.1215277778, 15.4470486111)],
                knots=[0.0897774407, 0.0897774407, 0.0897774407, 1, 1, 1], degree=2))
            Line((40.1322530254, 13.7227942749), (39.9288194444, 11.1996527778))
        make_face()
        with BuildLine():
            add(Edge.make_bspline(
                [(45.4670138889, 3.0251736111), (47.0512152778, 3.0251736111), (47.7912326389, 3.9474826389)],
                knots=[0, 0, 0, 1, 1, 1], degree=2))
            add(Edge.make_bspline(
                [(43.2534722222, 4.1449652778), (44.0260416667, 3.0251736111), (45.4670138889, 3.0251736111)],
                knots=[0, 0, 0, 1, 1, 1], degree=2))
            add(Edge.make_bspline(
                [(42.4809027778, 7.5), (42.4809027778, 5.2647569444), (43.2534722222, 4.1449652778)],
                knots=[0, 0, 0, 1, 1, 1], degree=2))
            add(Edge.make_bspline(
                [(43.2469618056, 10.9114583333), (42.4809027778, 9.7395833333), (42.4809027778, 7.5)],
                knots=[0, 0, 0, 1, 1, 1], degree=2))
            add(Edge.make_bspline(
                [(45.3975694444, 12.0833333333), (44.0130208333, 12.0833333333), (43.2469618056, 10.9114583333)],
                knots=[0, 0, 0, 1, 1, 1], degree=2))
            add(Edge.make_bspline(
                [(47.84765625, 11.0264756944), (47.0946180556, 12.0833333333), (45.3975694444, 12.0833333333)],
                knots=[0, 0, 0, 1, 1, 1], degree=2))
            add(Edge.make_bspline(
                [(48.6006944444, 7.5260416667), (48.6006944444, 9.9696180556), (47.84765625, 11.0264756944)],
                knots=[0, 0, 0, 1, 1, 1], degree=2))
            Line((48.6006944444, 7.5260416667), (48.6006944444, 7.0789930556))
            add(Edge.make_bspline(
                [(47.7912326389, 3.9474826389), (48.53125, 4.8697916667), (48.6006944444, 7.0789930556)],
                knots=[0, 0, 0, 1, 1, 1], degree=2))
        make_face(mode=Mode.SUBTRACT)
    extrude(amount=F1_DEPTH)


solid = f1.part
